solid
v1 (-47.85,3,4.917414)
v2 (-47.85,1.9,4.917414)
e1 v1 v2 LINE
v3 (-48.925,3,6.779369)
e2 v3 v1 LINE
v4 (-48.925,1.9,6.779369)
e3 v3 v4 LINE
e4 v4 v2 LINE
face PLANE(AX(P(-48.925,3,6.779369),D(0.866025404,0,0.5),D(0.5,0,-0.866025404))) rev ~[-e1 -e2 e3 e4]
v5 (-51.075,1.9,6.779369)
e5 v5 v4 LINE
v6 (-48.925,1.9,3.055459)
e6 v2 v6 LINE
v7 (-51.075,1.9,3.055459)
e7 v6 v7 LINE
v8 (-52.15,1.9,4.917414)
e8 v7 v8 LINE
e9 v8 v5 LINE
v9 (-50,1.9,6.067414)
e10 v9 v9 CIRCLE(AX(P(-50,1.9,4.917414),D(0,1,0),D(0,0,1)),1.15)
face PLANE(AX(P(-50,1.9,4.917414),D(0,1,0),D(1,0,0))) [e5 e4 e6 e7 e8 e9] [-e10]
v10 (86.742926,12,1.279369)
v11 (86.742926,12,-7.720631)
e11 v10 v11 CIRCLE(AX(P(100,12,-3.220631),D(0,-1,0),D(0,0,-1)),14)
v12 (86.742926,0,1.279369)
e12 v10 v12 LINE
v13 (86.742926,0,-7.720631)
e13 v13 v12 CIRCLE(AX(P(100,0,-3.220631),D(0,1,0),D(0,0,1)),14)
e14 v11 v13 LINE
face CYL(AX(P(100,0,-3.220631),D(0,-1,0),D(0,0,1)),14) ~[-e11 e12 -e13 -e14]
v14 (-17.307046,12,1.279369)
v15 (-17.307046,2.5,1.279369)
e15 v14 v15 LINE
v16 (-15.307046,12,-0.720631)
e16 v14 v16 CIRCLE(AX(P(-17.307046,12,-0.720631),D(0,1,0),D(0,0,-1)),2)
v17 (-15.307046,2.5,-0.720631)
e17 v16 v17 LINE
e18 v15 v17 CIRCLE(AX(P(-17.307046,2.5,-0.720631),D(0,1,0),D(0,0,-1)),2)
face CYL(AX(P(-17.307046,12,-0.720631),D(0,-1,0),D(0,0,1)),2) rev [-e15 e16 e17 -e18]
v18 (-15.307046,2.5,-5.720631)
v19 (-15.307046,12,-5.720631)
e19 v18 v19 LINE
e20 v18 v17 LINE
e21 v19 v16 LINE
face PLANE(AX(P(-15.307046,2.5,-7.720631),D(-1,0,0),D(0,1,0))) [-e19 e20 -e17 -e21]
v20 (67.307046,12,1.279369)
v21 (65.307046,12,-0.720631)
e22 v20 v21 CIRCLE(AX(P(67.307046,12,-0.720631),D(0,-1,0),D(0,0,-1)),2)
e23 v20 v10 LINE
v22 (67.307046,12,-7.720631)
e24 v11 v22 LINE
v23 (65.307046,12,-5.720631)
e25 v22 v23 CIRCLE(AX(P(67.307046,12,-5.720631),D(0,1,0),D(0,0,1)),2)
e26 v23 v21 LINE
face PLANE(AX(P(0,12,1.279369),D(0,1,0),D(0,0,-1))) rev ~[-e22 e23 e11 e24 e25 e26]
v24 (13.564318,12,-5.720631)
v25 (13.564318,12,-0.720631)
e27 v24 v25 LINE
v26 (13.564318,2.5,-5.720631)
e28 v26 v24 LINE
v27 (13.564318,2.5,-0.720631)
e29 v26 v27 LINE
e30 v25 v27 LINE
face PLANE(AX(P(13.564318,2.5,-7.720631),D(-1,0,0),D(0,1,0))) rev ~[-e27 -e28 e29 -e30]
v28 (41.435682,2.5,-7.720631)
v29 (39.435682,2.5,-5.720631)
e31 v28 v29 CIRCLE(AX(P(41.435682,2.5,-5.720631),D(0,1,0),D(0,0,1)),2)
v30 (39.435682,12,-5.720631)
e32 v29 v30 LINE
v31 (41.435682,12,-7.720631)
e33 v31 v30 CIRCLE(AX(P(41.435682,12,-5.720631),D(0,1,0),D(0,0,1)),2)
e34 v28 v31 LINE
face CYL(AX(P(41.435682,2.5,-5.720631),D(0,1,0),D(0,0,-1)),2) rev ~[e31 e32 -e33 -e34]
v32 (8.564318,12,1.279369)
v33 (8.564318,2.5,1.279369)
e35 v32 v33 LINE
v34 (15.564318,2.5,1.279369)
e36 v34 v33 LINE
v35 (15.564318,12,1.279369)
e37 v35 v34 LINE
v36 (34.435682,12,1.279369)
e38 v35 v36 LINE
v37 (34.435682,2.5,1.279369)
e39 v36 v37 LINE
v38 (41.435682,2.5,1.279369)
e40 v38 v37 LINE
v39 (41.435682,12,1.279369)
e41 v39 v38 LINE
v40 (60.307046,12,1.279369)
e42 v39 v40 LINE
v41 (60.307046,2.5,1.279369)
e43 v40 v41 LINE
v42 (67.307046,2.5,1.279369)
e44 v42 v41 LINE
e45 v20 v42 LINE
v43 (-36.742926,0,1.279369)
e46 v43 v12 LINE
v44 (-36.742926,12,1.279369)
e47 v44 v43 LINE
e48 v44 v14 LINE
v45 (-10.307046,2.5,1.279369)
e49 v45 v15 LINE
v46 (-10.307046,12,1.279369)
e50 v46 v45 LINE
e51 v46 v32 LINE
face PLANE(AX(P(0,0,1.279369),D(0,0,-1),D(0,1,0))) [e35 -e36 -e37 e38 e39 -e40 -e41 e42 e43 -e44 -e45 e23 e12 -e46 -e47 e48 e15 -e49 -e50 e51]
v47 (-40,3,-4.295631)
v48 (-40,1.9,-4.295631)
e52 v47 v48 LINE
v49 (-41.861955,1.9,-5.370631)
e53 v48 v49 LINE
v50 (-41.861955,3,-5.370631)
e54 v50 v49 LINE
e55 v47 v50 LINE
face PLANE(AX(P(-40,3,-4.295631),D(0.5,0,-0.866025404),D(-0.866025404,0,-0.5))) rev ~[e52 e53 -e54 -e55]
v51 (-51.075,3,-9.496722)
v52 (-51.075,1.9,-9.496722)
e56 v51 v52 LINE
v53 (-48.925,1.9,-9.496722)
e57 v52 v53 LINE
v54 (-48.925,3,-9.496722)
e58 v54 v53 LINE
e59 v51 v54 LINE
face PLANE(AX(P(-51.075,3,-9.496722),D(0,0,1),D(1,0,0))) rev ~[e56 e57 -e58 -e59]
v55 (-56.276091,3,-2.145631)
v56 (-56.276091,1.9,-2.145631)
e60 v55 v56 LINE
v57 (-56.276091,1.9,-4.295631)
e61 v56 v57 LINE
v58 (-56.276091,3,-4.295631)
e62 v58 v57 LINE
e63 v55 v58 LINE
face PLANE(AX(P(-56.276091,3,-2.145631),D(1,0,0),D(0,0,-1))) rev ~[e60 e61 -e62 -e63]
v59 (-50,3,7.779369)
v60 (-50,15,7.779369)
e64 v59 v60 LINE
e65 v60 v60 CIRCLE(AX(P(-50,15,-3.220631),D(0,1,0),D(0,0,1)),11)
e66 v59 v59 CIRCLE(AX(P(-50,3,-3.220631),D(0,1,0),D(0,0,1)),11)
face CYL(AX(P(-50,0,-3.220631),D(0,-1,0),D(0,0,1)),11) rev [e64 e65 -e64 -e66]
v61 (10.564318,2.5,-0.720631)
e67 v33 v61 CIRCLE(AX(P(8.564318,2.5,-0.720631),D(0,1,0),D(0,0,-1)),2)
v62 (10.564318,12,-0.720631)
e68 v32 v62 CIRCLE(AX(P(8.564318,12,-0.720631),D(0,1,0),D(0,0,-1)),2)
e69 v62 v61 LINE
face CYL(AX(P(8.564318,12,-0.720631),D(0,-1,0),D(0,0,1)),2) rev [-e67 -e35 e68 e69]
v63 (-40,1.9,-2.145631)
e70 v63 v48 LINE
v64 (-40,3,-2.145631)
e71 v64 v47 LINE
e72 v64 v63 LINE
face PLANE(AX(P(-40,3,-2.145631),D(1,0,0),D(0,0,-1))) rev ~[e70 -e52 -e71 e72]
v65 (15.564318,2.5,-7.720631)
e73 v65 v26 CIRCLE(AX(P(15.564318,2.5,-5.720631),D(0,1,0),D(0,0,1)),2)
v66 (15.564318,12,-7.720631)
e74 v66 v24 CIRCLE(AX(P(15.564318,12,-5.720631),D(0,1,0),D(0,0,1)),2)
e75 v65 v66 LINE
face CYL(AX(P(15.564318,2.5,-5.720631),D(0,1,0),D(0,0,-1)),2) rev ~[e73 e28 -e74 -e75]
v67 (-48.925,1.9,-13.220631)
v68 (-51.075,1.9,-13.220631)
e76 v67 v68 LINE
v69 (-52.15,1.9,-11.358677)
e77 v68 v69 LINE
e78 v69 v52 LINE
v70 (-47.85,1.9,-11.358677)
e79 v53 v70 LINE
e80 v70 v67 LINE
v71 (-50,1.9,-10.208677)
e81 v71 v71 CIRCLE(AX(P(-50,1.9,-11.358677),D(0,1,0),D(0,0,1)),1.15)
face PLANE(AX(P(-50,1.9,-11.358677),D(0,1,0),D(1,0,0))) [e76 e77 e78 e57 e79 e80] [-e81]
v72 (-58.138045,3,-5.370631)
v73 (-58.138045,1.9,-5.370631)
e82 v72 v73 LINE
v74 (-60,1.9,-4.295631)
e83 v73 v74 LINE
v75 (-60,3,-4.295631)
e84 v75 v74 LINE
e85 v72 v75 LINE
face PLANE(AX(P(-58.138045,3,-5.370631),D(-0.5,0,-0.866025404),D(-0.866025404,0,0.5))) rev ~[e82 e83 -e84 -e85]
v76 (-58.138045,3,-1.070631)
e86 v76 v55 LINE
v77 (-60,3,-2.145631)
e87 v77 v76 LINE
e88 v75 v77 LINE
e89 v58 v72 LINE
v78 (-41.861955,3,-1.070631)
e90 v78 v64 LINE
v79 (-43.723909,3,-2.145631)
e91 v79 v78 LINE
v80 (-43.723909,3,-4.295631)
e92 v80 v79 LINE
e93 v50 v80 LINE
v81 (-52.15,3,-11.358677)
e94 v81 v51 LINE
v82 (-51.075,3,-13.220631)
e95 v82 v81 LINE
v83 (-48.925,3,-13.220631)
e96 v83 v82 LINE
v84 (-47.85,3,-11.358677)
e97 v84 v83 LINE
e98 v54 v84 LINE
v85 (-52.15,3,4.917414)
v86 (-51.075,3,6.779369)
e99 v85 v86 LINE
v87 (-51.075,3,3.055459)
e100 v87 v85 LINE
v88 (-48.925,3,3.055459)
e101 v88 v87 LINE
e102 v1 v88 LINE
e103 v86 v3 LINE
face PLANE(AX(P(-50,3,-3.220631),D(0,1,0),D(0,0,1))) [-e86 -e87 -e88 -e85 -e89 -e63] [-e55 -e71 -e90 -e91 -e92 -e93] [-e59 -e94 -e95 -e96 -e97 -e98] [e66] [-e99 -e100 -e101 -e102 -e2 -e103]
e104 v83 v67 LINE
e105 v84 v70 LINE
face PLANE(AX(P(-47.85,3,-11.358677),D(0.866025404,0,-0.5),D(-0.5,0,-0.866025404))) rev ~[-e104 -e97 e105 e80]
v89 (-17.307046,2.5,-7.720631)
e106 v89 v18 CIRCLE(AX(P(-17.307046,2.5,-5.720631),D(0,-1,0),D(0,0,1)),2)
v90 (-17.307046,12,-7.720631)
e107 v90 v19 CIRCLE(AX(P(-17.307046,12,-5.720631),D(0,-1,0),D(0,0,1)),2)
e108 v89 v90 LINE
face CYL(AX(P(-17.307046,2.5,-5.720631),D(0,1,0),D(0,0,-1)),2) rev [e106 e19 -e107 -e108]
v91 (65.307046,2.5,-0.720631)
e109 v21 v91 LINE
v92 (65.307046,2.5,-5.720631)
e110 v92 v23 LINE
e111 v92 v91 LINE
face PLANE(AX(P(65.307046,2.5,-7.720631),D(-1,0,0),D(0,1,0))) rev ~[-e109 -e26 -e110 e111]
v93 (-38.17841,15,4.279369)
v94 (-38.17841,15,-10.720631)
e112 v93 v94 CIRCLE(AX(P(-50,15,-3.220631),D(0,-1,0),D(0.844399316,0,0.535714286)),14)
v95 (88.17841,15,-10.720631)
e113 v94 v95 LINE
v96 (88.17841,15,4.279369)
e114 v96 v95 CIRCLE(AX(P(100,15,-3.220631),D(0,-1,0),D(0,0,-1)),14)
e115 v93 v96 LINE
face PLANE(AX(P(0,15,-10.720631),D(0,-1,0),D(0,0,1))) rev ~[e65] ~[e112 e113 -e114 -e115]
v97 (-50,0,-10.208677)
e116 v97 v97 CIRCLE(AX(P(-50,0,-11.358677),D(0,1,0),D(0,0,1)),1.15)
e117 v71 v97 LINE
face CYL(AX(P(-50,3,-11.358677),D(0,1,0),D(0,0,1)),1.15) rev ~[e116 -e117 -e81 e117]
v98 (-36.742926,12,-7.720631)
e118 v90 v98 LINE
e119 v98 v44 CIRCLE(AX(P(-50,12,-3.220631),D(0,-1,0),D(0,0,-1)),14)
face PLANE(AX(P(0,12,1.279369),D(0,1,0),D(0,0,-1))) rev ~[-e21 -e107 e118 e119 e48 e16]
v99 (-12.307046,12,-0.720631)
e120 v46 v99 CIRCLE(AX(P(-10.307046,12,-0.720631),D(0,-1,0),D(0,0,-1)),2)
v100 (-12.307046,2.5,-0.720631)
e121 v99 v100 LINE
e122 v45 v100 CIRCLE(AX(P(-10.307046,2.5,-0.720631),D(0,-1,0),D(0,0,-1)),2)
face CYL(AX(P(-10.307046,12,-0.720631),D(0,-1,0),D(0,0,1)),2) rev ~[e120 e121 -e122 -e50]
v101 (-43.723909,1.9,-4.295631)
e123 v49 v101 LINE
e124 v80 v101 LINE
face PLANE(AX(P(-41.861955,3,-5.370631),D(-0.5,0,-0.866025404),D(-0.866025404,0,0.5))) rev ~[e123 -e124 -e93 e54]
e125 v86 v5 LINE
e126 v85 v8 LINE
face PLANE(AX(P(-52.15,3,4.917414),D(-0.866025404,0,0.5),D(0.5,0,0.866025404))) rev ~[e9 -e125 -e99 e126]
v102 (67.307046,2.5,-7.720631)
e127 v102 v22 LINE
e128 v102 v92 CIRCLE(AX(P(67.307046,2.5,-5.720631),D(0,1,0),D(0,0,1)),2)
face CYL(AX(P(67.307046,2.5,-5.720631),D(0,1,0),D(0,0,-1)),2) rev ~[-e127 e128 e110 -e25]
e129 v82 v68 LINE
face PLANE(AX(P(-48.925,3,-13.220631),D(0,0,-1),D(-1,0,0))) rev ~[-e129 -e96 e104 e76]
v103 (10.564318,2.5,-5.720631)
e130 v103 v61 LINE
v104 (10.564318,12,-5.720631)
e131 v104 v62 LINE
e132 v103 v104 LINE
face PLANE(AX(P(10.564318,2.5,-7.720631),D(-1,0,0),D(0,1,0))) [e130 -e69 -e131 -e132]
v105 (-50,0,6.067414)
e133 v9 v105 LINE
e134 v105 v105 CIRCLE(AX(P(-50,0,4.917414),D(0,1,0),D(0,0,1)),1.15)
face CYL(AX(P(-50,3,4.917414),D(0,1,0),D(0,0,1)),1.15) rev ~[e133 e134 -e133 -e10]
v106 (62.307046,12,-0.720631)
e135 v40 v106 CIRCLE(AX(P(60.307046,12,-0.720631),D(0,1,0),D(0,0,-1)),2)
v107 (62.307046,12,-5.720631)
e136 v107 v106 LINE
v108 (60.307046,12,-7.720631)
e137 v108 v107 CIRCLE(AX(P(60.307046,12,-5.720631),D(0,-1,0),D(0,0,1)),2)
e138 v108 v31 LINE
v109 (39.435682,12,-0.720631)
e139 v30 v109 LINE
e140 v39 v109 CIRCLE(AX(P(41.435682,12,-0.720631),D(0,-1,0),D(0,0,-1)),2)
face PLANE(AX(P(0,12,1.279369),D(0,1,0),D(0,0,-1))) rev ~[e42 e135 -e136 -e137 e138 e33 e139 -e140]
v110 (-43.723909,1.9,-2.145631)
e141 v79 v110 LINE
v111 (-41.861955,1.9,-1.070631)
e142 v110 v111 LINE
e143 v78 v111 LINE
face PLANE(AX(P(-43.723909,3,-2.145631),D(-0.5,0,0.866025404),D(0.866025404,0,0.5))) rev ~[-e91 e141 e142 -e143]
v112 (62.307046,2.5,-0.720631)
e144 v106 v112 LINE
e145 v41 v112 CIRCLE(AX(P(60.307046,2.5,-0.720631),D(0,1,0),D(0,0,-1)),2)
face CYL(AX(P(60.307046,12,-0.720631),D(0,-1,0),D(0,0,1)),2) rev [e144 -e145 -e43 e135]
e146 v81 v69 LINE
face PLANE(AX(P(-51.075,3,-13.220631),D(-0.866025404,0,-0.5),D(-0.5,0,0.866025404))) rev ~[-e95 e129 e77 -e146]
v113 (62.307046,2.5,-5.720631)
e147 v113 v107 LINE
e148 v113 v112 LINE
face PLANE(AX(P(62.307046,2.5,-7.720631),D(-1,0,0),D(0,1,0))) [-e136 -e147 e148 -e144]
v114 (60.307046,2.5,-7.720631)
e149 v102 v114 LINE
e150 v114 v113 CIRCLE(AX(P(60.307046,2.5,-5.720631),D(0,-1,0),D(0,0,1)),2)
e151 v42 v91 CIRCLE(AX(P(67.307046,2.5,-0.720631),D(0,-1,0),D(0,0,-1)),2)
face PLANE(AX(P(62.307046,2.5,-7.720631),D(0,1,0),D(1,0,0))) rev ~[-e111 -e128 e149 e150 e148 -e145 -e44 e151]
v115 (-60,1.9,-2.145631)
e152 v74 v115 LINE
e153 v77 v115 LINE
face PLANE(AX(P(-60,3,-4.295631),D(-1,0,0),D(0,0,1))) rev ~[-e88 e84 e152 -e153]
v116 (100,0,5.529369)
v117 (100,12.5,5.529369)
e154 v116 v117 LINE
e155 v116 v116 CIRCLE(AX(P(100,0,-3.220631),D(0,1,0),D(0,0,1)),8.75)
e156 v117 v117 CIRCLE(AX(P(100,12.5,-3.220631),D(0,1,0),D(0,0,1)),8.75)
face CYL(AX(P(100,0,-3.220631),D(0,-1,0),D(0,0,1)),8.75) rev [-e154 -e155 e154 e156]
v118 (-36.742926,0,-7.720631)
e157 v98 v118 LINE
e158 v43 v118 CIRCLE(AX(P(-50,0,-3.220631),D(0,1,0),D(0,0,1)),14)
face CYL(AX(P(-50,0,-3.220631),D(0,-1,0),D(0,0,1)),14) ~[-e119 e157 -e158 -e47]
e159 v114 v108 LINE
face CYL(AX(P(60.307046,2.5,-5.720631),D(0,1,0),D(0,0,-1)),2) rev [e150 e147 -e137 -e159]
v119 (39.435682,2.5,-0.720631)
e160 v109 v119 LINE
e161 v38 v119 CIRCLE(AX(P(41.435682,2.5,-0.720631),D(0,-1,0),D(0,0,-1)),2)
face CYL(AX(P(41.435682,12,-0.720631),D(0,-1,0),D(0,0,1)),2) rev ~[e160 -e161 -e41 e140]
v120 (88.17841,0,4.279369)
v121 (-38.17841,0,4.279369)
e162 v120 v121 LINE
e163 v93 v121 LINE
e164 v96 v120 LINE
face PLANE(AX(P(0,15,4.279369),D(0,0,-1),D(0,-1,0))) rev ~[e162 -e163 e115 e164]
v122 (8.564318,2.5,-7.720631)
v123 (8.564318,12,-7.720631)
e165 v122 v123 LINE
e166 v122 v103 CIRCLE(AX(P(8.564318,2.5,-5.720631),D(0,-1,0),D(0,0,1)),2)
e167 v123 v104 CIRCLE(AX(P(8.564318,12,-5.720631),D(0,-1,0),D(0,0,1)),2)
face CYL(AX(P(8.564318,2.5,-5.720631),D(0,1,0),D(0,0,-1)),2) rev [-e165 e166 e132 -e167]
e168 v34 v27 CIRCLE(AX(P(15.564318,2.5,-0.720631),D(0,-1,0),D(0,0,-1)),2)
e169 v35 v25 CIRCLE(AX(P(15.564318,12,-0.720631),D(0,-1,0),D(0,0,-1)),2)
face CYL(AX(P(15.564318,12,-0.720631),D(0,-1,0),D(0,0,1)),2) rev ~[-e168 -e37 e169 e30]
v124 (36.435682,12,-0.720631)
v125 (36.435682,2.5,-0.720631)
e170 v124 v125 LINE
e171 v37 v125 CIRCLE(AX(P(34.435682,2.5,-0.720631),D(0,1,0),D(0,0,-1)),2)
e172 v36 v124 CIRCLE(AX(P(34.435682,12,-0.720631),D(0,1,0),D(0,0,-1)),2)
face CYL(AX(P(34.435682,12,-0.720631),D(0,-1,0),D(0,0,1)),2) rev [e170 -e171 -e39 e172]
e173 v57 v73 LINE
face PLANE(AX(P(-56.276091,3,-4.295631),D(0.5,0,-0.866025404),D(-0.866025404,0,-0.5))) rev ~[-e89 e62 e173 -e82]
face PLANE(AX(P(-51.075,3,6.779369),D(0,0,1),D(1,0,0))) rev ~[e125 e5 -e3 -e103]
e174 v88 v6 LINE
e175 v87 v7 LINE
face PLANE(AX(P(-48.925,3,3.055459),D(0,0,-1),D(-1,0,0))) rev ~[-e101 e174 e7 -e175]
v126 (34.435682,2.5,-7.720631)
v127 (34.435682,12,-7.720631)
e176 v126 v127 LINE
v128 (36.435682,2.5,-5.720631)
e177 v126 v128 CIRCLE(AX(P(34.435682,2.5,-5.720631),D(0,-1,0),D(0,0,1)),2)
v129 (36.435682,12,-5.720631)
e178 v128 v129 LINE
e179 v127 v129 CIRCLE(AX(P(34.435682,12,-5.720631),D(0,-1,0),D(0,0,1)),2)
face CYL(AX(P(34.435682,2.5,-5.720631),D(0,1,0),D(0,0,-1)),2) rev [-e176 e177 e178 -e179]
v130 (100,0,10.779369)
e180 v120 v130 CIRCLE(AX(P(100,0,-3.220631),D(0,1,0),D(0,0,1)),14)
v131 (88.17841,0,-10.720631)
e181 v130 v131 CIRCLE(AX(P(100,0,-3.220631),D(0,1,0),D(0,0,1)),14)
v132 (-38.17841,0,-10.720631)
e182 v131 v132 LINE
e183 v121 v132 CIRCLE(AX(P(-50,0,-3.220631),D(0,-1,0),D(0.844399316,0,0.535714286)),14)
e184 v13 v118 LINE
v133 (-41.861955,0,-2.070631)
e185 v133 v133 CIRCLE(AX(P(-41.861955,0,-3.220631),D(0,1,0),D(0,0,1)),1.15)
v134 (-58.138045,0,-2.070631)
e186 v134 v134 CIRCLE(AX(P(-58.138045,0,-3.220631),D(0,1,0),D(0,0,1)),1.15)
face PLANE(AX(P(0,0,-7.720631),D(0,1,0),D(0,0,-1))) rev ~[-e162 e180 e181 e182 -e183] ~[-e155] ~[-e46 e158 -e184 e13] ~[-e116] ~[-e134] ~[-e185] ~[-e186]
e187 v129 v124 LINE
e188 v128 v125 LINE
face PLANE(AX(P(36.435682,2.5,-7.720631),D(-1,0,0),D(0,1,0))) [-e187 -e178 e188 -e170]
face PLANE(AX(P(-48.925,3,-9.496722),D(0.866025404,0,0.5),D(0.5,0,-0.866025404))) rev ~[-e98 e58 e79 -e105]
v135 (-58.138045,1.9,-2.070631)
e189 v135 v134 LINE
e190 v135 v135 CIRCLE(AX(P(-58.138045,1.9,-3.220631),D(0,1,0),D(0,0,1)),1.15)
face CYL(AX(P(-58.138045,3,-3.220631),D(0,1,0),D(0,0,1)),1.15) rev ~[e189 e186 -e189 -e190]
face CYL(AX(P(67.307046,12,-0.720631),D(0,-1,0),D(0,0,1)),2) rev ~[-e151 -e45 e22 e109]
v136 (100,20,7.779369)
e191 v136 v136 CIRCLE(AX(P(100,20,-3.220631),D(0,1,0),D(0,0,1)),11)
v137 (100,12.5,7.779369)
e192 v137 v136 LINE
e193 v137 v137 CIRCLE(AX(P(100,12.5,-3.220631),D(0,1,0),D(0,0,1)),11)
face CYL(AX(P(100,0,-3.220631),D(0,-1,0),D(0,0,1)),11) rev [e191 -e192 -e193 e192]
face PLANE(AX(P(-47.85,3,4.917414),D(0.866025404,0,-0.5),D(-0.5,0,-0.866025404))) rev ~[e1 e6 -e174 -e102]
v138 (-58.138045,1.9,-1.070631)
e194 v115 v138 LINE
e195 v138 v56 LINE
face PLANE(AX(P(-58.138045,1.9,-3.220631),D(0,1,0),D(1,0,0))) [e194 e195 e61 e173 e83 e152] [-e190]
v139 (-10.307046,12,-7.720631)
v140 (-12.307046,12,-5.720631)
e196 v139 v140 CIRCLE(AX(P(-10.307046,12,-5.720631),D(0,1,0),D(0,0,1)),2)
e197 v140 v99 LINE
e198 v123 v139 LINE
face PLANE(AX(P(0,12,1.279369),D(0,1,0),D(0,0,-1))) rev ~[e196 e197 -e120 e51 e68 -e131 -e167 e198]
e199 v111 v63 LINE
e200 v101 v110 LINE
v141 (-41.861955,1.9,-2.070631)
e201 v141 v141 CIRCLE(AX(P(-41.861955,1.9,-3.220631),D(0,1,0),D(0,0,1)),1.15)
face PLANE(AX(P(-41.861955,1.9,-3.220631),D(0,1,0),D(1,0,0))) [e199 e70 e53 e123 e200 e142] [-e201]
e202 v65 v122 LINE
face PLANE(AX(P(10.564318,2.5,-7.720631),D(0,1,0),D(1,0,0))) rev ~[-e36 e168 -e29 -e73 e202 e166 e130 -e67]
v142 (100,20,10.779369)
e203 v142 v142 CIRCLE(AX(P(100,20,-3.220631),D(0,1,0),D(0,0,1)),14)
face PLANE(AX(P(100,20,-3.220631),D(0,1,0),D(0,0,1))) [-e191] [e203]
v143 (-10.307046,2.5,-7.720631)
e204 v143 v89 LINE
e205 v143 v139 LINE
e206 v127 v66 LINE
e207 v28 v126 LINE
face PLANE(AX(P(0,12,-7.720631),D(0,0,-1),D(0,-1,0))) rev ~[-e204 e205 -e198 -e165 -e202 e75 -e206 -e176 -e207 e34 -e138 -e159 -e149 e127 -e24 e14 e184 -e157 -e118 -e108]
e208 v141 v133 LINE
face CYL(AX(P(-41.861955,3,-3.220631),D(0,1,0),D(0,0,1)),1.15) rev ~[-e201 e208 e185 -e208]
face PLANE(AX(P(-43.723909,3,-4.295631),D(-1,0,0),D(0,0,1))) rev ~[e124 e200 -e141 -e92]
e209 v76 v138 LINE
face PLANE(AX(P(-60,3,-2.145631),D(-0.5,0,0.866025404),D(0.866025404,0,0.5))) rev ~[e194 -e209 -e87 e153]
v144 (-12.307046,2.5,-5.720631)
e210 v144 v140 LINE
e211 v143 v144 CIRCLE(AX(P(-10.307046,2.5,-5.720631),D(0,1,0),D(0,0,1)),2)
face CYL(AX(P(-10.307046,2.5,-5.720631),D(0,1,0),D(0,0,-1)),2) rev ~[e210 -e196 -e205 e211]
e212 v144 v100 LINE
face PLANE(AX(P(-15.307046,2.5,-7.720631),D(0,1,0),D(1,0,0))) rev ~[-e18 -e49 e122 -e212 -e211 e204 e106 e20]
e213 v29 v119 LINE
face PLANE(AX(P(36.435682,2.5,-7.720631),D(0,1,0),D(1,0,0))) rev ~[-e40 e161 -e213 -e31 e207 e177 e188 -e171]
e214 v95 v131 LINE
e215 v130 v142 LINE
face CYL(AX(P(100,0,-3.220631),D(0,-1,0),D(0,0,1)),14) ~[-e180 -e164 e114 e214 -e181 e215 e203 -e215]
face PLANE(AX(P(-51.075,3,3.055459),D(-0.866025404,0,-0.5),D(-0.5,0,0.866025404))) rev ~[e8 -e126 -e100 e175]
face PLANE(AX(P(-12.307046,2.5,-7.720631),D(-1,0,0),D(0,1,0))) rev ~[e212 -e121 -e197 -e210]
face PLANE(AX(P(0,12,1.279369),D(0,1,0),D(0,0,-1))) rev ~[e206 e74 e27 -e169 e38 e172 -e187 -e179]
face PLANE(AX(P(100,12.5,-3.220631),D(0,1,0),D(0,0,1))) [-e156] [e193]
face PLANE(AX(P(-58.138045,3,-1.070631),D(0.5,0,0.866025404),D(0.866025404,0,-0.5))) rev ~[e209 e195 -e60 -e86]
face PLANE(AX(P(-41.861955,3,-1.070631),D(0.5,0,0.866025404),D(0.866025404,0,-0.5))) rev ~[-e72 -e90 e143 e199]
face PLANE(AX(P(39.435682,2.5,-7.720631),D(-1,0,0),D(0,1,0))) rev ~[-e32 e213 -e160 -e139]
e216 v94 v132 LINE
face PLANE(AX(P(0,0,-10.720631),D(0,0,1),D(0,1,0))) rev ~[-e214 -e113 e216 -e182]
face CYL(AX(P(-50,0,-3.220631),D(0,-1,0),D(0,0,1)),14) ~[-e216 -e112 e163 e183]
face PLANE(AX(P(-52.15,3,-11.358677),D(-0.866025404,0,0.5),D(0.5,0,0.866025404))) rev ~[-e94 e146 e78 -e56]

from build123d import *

# Parameters (mm, degrees)
SKETCH2_R                             = 14
SKETCH2_R_2                           = 11
BOSS_EXTRUDE7_DEPTH                   = 15
SKETCH2_12_R                          = 11
BOSS_EXTRUDE10_DEPTH                  = 3
SKETCH2_9_R                           = 14
SKETCH2_9_R_2                         = 11
BOSS_EXTRUDE8_DEPTH                   = 20
SKETCH2_11_R                          = 11
SKETCH2_11_R_2                        = 8.75
BOSS_EXTRUDE9_DEPTH                   = 12.5
BOSS_EXTRUDE11_REACH                  = 119.015
BOSS_EXTRUDE11_END_RADIUS             = 14
BOSS_EXTRUDE11_DIRECTION_2_REACH      = 119.015
BOSS_EXTRUDE11_DIRECTION_2_END_RADIUS = 14
CUT_EXTRUDE6_DEPTH                    = 1.1
SKETCH13_R                            = 1.15
CUT_EXTRUDE7_DEPTH                    = 3
BOSS_EXTRUDE12_REACH                  = 119.21
SKETCH15_W                            = 3
SKETCH15_H                            = 9.5
FILLET1_R                             = 2


with BuildPart() as part:
    # Sketch2 → Boss-Extrude7 (new body)
    with BuildSketch(Plane(origin=(0, 0, 0), x_dir=(1, 0, 0), z_dir=(0, 1, 0))):
        with Locations(Location((-50, 3.220631283, 0), (0, 0, 270))):
            Circle(SKETCH2_R)
        with Locations(Location((-50, 3.220631283, 0), (0, 0, 270))):
            Circle(SKETCH2_R_2, mode=Mode.SUBTRACT)
    extrude(amount=BOSS_EXTRUDE7_DEPTH)

    # Sketch2<12> → Boss-Extrude10 (add)
    with BuildSketch(Plane(origin=(0, 0, 0), x_dir=(1, 0, 0), z_dir=(0, 1, 0))):
        with Locations(Location((-50, 3.220631283, 0), (0, 0, 270))):
            Circle(SKETCH2_12_R)
    extrude(amount=BOSS_EXTRUDE10_DEPTH)


with BuildPart() as body_2:
    # Sketch2<9> → Boss-Extrude8 (new body)
    with BuildSketch(Plane(origin=(0, 0, 0), x_dir=(1, 0, 0), z_dir=(0, 1, 0))):
        with Locations(Location((100, 3.220631283, 0), (0, 0, 270))):
            Circle(SKETCH2_9_R)
        with Locations(Location((100, 3.220631283, 0), (0, 0, 270))):
            Circle(SKETCH2_9_R_2, mode=Mode.SUBTRACT)
    extrude(amount=BOSS_EXTRUDE8_DEPTH)

    # Sketch2<11> → Boss-Extrude9 (add)
    with BuildSketch(Plane(origin=(0, 0, 0), x_dir=(1, 0, 0), z_dir=(0, 1, 0))):
        with Locations(Location((100, 3.220631283, 0), (0, 0, 270))):
            Circle(SKETCH2_11_R)
        with Locations(Location((100, 3.220631283, 0), (0, 0, 270))):
            Circle(SKETCH2_11_R_2, mode=Mode.SUBTRACT)
    extrude(amount=BOSS_EXTRUDE9_DEPTH)


    add(part.part)  # Boss-Extrude11 merges part
    # Boss-Extrude11: up to this cylinder (the profile starts outside it)
    boss_extrude11_end = Plane(origin=(-50, 0.212132, -3.220631283), z_dir=(0, -1, 0)) * Cylinder(BOSS_EXTRUDE11_END_RADIUS, 267.03, mode=Mode.PRIVATE)
    # Sketch3 → Boss-Extrude11 (add, up to the surface)
    with BuildSketch(Plane(origin=(0, 0, 0), x_dir=(0, 0, -1), z_dir=(1, 0, 0)), mode=Mode.PRIVATE) as boss_extrude11_sk1:
        Polygon((10.720631283, 0), (10.720631283, 15), (-4.279368717, 15), (-4.279368717, 0), (-1.279368717, 0), (-1.279368717, 12), (7.720631283, 12), (7.720631283, 0), align=None)
    boss_extrude11_tool1 = extrude(boss_extrude11_sk1.sketch, amount=-BOSS_EXTRUDE11_REACH, mode=Mode.PRIVATE) - boss_extrude11_end
    add(boss_extrude11_tool1.solids().sort_by_distance((0, 0.212132, -9.220631))[0])

    # Boss-Extrude11 direction 2: up to this cylinder (the profile starts outside it)
    boss_extrude11_direction_2_end = Plane(origin=(100, 0.212132, -3.220631283), z_dir=(0, -1, 0)) * Cylinder(BOSS_EXTRUDE11_DIRECTION_2_END_RADIUS, 267.03, mode=Mode.PRIVATE)
    # Sketch3 → Boss-Extrude11 direction 2 (add, up to the surface)
    with BuildSketch(Plane(origin=(0, 0, 0), x_dir=(0, 0, -1), z_dir=(1, 0, 0)), mode=Mode.PRIVATE) as boss_extrude11_direction_2_sk1:
        Polygon((10.720631283, 0), (10.720631283, 15), (-4.279368717, 15), (-4.279368717, 0), (-1.279368717, 0), (-1.279368717, 12), (7.720631283, 12), (7.720631283, 0), align=None)
    boss_extrude11_direction_2_tool1 = extrude(boss_extrude11_direction_2_sk1.sketch, amount=BOSS_EXTRUDE11_DIRECTION_2_REACH, mode=Mode.PRIVATE) - boss_extrude11_direction_2_end
    add(boss_extrude11_direction_2_tool1.solids().sort_by_distance((0, 0.212132, -9.220631))[0])

    # Sketch10 → Cut-Extrude6 (cut)
    with BuildSketch(Plane(origin=(0, 3, 0), x_dir=(1, 0, 0), z_dir=(0, 1, 0))):
        Polygon((-47.85, 11.358676665), (-48.925, 13.220631283), (-51.075, 13.220631283), (-52.15, 11.358676665), (-51.075, 9.496722047), (-48.925, 9.496722047), align=None)
        Polygon((-58.138045382, 5.37063128), (-60, 4.29563128), (-60, 2.14563128), (-58.138045382, 1.07063128), (-56.276090764, 2.14563128), (-56.276090764, 4.29563128), align=None)
        Polygon((-41.861954618, 5.37063128), (-43.723909236, 4.29563128), (-43.723909236, 2.14563128), (-41.861954618, 1.07063128), (-40, 2.14563128), (-40, 4.29563128), align=None)
        Polygon((-47.85, -4.917414098), (-48.925, -3.05545948), (-51.075, -3.05545948), (-52.15, -4.917414098), (-51.075, -6.779368717), (-48.925, -6.779368717), align=None)
    extrude(amount=-CUT_EXTRUDE6_DEPTH, mode=Mode.SUBTRACT)

    # Sketch13 → Cut-Extrude7 (cut)
    with BuildSketch(Plane(origin=(0, 3, 0), x_dir=(1, 0, 0), z_dir=(0, 1, 0))):
        with Locations(Location((-50, 11.35867667, 0), (0, 0, 270))):
            Circle(SKETCH13_R)
        with Locations(Location((-41.86195462, 3.22063128, 0), (0, 0, 270))):
            Circle(SKETCH13_R)
        with Locations(Location((-50, -4.9174141, 0), (0, 0, 270))):
            Circle(SKETCH13_R)
        with Locations(Location((-58.13804538, 3.22063128, 0), (0, 0, 270))):
            Circle(SKETCH13_R)
    extrude(amount=-CUT_EXTRUDE7_DEPTH, mode=Mode.SUBTRACT)

    # Sketch15 → Boss-Extrude12 (add, up to next)
    with BuildSketch(Plane.XY.offset(-7.720631283), mode=Mode.PRIVATE) as boss_extrude12_sk1:
        with Locations((-13.807045748, 7.25)):
            Rectangle(SKETCH15_W, SKETCH15_H)
    boss_extrude12_tool1 = extrude(boss_extrude12_sk1.sketch, amount=BOSS_EXTRUDE12_REACH, mode=Mode.PRIVATE) - body_2.part
    # Sketch15 → Boss-Extrude12 (add, up to next)
    with BuildSketch(Plane.XY.offset(-7.720631283), mode=Mode.PRIVATE) as boss_extrude12_sk2:
        with Locations((12.064318086, 7.25)):
            Rectangle(SKETCH15_W, SKETCH15_H)
    boss_extrude12_tool2 = extrude(boss_extrude12_sk2.sketch, amount=BOSS_EXTRUDE12_REACH, mode=Mode.PRIVATE) - body_2.part
    # Sketch15 → Boss-Extrude12 (add, up to next)
    with BuildSketch(Plane.XY.offset(-7.720631283), mode=Mode.PRIVATE) as boss_extrude12_sk3:
        with Locations((37.93568192, 7.25)):
            Rectangle(SKETCH15_W, SKETCH15_H)
    boss_extrude12_tool3 = extrude(boss_extrude12_sk3.sketch, amount=BOSS_EXTRUDE12_REACH, mode=Mode.PRIVATE) - body_2.part
    # Sketch15 → Boss-Extrude12 (add, up to next)
    with BuildSketch(Plane.XY.offset(-7.720631283), mode=Mode.PRIVATE) as boss_extrude12_sk4:
        with Locations((63.807045754, 7.25)):
            Rectangle(SKETCH15_W, SKETCH15_H)
    boss_extrude12_tool4 = extrude(boss_extrude12_sk4.sketch, amount=BOSS_EXTRUDE12_REACH, mode=Mode.PRIVATE) - body_2.part
    add(boss_extrude12_tool1.solids().sort_by_distance((-13.807046, 7.25, -7.720631))[0])
    add(boss_extrude12_tool2.solids().sort_by_distance((12.064318, 7.25, -7.720631))[0])
    add(boss_extrude12_tool3.solids().sort_by_distance((37.935682, 7.25, -7.720631))[0])
    add(boss_extrude12_tool4.solids().sort_by_distance((63.807046, 7.25, -7.720631))[0])

    # Fillet1
    fillet1_edges = [body_2.edges().sort_by_distance(p)[0] for p in [
        (-15.307045748, 7.25, 1.279368717),
        (-12.307045748, 7.25, 1.279368717),
        (-12.307045748, 7.25, -7.720631283),
        (-15.307045748, 7.25, -7.720631283),
        (13.564318086, 7.25, 1.279368717),
        (10.564318086, 7.25, 1.279368717),
        (13.564318086, 7.25, -7.720631283),
        (10.564318086, 7.25, -7.720631283),
        (36.43568192, 7.25, 1.279368717),
        (39.43568192, 7.25, 1.279368717),
        (39.43568192, 7.25, -7.720631283),
        (36.43568192, 7.25, -7.720631283),
        (62.307045754, 7.25, 1.279368717),
        (65.307045754, 7.25, 1.279368717),
        (65.307045754, 7.25, -7.720631283),
        (62.307045754, 7.25, -7.720631283),
    ]]
    fillet(fillet1_edges, radius=FILLET1_R)


solid = body_2.part
